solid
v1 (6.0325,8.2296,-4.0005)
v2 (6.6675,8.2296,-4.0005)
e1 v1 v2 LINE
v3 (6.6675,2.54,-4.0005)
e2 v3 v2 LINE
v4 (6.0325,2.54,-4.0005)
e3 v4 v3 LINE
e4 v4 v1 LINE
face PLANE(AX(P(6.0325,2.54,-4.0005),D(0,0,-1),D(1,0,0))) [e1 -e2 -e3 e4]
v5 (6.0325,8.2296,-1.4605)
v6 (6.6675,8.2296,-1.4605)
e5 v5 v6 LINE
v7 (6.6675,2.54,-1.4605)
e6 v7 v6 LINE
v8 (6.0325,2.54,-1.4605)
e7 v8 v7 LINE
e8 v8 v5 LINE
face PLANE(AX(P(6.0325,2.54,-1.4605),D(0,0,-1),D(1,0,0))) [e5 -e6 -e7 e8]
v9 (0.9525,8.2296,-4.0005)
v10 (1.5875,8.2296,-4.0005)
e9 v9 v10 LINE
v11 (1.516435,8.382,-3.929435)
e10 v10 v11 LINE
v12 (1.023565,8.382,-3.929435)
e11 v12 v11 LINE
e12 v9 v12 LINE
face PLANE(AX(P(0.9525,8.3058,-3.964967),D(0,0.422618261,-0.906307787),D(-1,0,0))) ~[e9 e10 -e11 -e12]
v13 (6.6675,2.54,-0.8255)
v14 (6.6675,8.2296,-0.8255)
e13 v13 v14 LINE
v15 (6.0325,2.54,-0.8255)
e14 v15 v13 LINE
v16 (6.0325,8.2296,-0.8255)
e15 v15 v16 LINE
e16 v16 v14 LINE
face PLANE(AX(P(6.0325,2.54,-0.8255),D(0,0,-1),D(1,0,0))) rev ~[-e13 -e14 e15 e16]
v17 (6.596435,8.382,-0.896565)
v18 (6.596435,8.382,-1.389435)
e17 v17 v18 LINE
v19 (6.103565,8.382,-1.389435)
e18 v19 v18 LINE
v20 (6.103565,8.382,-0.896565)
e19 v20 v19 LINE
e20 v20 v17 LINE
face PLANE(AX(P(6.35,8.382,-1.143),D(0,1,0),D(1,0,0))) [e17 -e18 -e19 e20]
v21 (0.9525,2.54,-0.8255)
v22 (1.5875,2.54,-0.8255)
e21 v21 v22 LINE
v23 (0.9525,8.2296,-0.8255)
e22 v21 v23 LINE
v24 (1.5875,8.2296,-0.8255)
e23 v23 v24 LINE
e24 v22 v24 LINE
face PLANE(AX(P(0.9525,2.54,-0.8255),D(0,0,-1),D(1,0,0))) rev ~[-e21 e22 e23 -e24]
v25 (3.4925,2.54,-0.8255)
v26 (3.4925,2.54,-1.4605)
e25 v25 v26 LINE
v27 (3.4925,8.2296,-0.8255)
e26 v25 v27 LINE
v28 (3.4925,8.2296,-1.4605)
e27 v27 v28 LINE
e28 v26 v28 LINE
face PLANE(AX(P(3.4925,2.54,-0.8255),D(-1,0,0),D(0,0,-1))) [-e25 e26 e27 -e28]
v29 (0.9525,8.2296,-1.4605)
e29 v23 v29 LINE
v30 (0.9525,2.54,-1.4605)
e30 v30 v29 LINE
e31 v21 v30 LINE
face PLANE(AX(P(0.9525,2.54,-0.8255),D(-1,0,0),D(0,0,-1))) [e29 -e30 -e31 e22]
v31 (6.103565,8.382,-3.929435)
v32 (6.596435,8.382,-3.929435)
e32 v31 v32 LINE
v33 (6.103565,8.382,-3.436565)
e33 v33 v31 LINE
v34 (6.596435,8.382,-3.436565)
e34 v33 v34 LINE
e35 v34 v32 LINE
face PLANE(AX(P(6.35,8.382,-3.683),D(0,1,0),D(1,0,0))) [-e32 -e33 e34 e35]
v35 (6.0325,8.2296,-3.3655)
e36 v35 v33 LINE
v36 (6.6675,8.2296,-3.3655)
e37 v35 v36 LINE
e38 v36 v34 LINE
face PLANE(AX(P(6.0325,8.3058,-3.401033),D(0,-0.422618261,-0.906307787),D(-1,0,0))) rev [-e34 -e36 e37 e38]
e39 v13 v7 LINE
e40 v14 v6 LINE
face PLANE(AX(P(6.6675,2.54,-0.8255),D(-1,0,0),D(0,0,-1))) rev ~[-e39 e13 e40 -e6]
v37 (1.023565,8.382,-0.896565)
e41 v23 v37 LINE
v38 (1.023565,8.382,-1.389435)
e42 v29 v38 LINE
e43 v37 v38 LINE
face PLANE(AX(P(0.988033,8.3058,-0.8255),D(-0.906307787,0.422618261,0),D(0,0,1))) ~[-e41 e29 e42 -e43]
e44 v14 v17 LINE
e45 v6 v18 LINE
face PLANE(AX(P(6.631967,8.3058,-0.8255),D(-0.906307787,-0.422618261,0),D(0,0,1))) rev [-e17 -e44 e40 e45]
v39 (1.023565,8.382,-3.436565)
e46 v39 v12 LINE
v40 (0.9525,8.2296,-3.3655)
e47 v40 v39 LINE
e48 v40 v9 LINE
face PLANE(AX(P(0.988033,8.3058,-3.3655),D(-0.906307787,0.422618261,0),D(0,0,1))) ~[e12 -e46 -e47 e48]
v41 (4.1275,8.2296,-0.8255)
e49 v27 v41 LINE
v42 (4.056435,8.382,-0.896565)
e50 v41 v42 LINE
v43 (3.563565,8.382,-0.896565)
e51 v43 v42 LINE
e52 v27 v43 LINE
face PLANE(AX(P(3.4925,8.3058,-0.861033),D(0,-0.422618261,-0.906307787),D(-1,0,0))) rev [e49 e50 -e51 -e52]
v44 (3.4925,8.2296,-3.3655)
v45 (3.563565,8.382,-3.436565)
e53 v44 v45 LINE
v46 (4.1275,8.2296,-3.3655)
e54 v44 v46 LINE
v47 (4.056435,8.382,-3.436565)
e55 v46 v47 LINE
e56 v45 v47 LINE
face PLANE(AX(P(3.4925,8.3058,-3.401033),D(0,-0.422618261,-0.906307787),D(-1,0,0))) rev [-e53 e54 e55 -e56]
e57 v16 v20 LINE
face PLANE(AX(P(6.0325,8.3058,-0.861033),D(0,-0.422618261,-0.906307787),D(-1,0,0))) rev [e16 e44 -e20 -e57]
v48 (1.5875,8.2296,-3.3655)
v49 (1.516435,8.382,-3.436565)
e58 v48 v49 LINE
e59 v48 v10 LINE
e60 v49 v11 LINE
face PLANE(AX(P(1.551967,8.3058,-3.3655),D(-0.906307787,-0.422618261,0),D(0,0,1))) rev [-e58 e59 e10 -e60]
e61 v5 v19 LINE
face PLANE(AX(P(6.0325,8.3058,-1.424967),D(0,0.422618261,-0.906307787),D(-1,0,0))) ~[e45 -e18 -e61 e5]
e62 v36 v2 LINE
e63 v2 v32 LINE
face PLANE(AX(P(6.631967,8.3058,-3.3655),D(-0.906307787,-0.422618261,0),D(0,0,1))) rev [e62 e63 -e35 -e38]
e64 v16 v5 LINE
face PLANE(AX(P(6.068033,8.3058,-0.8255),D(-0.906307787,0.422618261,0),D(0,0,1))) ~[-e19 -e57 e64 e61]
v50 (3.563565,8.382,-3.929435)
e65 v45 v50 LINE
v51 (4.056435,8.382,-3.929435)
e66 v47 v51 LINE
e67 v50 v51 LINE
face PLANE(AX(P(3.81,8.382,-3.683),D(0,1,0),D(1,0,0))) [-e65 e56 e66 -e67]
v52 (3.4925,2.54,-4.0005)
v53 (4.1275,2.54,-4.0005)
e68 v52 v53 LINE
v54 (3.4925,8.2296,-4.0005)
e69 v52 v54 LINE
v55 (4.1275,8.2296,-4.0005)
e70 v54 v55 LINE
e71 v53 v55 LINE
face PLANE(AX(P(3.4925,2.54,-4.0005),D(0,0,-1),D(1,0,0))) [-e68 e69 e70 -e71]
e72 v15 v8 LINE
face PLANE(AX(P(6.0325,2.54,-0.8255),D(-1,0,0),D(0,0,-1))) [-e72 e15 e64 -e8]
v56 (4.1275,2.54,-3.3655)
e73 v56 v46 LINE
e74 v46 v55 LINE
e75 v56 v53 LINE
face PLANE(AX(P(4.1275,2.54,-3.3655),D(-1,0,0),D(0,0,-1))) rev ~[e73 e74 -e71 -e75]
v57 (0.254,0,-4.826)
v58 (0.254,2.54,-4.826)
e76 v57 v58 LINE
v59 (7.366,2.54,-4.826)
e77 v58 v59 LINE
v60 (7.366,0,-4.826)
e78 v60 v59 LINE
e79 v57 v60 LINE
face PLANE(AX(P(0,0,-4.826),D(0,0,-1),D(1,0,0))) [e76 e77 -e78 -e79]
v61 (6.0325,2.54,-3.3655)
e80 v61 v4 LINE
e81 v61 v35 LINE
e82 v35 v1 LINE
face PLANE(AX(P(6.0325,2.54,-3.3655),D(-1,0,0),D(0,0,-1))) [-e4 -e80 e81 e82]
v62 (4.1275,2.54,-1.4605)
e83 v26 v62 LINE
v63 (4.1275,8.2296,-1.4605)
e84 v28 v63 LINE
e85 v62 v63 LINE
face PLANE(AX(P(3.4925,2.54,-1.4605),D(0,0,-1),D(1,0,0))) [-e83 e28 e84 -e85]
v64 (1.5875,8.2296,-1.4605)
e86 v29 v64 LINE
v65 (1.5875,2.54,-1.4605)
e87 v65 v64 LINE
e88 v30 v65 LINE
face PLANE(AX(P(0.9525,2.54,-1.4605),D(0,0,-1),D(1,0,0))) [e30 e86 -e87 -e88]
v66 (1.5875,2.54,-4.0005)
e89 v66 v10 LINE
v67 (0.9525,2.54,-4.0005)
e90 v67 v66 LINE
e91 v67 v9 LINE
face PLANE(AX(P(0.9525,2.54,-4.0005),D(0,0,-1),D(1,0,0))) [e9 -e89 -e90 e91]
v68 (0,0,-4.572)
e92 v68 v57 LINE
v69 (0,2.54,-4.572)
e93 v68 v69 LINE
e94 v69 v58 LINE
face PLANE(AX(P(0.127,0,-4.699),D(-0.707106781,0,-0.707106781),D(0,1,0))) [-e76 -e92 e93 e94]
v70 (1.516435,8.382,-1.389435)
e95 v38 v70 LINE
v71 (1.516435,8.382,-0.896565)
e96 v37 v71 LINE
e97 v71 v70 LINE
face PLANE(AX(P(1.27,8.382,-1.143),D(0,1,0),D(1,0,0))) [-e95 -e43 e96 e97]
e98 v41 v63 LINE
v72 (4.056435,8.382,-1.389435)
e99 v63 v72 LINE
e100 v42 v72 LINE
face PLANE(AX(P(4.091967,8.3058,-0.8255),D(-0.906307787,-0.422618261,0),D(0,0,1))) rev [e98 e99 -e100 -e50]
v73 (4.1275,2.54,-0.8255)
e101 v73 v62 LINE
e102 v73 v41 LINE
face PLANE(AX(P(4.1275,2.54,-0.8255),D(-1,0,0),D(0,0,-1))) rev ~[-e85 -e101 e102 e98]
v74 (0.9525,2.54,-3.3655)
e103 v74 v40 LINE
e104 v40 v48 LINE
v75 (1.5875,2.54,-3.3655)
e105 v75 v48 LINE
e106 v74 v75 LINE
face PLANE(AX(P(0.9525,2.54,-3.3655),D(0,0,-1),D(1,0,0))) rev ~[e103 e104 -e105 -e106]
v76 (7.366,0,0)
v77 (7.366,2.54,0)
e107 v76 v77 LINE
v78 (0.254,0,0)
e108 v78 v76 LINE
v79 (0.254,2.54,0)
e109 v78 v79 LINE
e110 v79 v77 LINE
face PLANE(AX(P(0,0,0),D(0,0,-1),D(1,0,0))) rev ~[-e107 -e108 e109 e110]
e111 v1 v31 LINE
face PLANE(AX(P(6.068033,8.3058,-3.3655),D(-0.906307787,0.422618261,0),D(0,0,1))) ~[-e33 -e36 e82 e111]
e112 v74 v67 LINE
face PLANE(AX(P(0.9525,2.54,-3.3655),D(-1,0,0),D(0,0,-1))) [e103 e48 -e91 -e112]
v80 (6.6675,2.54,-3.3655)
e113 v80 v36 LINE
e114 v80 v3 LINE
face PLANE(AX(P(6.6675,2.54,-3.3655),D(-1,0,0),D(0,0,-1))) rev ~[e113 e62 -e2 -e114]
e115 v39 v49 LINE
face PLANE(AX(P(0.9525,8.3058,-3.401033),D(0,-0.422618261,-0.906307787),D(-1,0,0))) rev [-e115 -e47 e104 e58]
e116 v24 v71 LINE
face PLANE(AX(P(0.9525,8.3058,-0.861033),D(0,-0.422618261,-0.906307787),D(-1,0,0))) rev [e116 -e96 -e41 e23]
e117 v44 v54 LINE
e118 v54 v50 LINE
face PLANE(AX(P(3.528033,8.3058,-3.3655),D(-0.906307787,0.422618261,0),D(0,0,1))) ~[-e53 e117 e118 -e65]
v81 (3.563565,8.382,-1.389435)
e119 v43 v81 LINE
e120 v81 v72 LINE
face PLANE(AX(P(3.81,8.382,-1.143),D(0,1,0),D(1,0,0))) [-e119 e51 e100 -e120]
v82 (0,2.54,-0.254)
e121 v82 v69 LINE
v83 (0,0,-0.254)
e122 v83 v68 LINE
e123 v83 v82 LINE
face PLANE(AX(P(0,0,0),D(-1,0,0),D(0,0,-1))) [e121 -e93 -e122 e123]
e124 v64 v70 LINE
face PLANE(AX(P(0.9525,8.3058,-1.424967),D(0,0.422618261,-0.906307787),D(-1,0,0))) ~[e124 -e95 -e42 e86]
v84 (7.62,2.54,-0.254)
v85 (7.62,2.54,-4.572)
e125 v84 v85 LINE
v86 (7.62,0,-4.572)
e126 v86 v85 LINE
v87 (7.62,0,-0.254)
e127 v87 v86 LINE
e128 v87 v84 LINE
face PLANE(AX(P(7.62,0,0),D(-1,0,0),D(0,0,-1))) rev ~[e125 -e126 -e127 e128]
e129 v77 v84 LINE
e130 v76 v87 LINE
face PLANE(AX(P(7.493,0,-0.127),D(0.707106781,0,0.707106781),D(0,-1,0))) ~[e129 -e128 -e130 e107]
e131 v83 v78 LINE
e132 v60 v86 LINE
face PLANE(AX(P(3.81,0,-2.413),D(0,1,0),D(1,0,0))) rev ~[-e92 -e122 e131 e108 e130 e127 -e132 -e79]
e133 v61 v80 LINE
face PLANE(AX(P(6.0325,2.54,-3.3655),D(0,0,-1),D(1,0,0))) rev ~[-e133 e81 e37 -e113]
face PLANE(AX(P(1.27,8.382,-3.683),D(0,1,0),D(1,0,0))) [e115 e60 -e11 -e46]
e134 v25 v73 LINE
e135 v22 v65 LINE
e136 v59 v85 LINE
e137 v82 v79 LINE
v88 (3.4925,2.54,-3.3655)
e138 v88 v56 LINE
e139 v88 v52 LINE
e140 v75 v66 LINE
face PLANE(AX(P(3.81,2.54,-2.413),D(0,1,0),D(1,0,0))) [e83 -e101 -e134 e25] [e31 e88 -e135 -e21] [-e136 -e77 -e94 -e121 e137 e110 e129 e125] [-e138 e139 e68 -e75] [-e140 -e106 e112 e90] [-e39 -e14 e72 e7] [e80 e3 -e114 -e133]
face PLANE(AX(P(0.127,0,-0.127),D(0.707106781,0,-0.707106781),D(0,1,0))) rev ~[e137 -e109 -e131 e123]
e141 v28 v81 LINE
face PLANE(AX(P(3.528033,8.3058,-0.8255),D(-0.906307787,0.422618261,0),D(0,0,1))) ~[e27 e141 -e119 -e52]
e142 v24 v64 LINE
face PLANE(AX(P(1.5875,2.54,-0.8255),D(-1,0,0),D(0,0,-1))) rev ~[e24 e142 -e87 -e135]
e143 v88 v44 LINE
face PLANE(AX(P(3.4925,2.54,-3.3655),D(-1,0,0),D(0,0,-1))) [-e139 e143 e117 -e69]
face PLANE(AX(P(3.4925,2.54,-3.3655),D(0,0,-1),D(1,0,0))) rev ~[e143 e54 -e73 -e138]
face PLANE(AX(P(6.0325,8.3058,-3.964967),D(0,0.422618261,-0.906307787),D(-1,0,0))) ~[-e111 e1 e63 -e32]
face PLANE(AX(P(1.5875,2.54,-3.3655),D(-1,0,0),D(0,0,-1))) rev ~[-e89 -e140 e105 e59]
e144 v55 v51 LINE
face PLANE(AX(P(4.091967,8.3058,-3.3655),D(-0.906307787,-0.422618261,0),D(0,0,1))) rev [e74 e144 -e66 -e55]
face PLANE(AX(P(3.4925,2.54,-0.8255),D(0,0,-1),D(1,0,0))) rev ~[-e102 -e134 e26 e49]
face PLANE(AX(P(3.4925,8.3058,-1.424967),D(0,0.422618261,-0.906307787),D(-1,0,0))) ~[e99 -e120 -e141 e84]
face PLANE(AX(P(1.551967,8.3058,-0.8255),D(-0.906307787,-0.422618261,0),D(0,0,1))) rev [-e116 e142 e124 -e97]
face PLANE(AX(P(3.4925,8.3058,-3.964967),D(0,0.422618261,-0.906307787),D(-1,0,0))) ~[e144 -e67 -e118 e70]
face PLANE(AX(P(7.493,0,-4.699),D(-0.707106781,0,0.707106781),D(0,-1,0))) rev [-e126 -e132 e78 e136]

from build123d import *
from OCP.BRepFilletAPI import BRepFilletAPI_MakeChamfer

# Parameters (mm, degrees)
SKETCH1_W                   = 7.62
SKETCH1_H                   = 4.826
BOSS_EXTRUDE1_DEPTH         = 2.54
SKETCH2_W                   = 0.635
SKETCH2_H                   = 0.635
BOSS_EXTRUDE2_DEPTH         = 5.842
CHAMFER2_SIZE               = 0.1524
CHAMFER2_SIZE2              = 0.071065287
CHAMFER1_SIZE               = 0.254
LPATTERN2_COUNT             = 3
LPATTERN2_PITCH             = 2.54
LPATTERN2_COUNT_DIR2        = 2
LPATTERN2_PITCH_DIR2        = 2.54
CHAMFER2_OF_LPATTERN2_SIZE  = 0.1524
CHAMFER2_OF_LPATTERN2_SIZE2 = 0.071065287


with BuildPart() as part:
    # Sketch1 → Boss-Extrude1 (new body)
    with BuildSketch(Plane(origin=(0, 0, 0), x_dir=(1, 0, 0), z_dir=(0, 1, 0))):
        with Locations((3.81, 2.413)):
            Rectangle(SKETCH1_W, SKETCH1_H)
    extrude(amount=BOSS_EXTRUDE1_DEPTH)

    # Sketch2 → Boss-Extrude2 (add)
    with BuildSketch(Plane(origin=(0, 2.54, 0), x_dir=(1, 0, 0), z_dir=(0, 1, 0))):
        with Locations((1.27, 1.143)):
            Rectangle(SKETCH2_W, SKETCH2_H)
    boss_extrude2 = extrude(amount=BOSS_EXTRUDE2_DEPTH)

    # Chamfer2: one chamfer whose edges measure the first distance from different faces: ONE call of the kernel's chamfer builder (chamfer() names one face for all edges)
    chamfer2_edges_1 = [part.edges().sort_by_distance(p)[0] for p in [
        (1.5875, 8.382, -1.143),
    ]]
    chamfer2_side_1 = [part.faces().sort_by_distance(p)[0] for p in [
        (1.5875, 5.461, -1.143),
    ]]
    chamfer2_edges_2 = [part.edges().sort_by_distance(p)[0] for p in [
        (1.27, 8.382, -1.4605),
    ]]
    chamfer2_side_2 = [part.faces().sort_by_distance(p)[0] for p in [
        (1.27, 5.461, -1.4605),
    ]]
    chamfer2_edges_3 = [part.edges().sort_by_distance(p)[0] for p in [
        (0.9525, 8.382, -1.143),
    ]]
    chamfer2_side_3 = [part.faces().sort_by_distance(p)[0] for p in [
        (0.9525, 5.461, -1.143),
    ]]
    chamfer2_edges_4 = [part.edges().sort_by_distance(p)[0] for p in [
        (1.27, 8.382, -0.8255),
    ]]
    chamfer2_side_4 = [part.faces().sort_by_distance(p)[0] for p in [
        (1.27, 5.461, -0.8255),
    ]]
    chamfer2 = BRepFilletAPI_MakeChamfer(part.part.solid().wrapped)
    for e in chamfer2_edges_1:
        chamfer2.Add(CHAMFER2_SIZE, CHAMFER2_SIZE2, e.wrapped, chamfer2_side_1[0].wrapped)  # the first distance lies on this face
    for e in chamfer2_edges_2:
        chamfer2.Add(CHAMFER2_SIZE, CHAMFER2_SIZE2, e.wrapped, chamfer2_side_2[0].wrapped)  # the first distance lies on this face
    for e in chamfer2_edges_3:
        chamfer2.Add(CHAMFER2_SIZE, CHAMFER2_SIZE2, e.wrapped, chamfer2_side_3[0].wrapped)  # the first distance lies on this face
    for e in chamfer2_edges_4:
        chamfer2.Add(CHAMFER2_SIZE, CHAMFER2_SIZE2, e.wrapped, chamfer2_side_4[0].wrapped)  # the first distance lies on this face
    add(Compound.cast(chamfer2.Shape()), mode=Mode.REPLACE)

    # Chamfer1
    chamfer1_edges = [part.edges().sort_by_distance(p)[0] for p in [
        (0, 1.27, -4.826),
        (7.62, 1.27, -4.826),
        (7.62, 1.27, 0),
        (0, 1.27, 0),
    ]]
    chamfer(chamfer1_edges, length=CHAMFER1_SIZE)

    # LPattern2: Boss-Extrude2 3 × 2
    with Locations(*[(i * LPATTERN2_PITCH, 0, -j * LPATTERN2_PITCH_DIR2) for i in range(LPATTERN2_COUNT) for j in range(LPATTERN2_COUNT_DIR2) if (i, j) != (0, 0)]):
        add(boss_extrude2)

    # Chamfer2 of LPattern2: one chamfer whose edges measure the first distance from different faces: ONE call of the kernel's chamfer builder (chamfer() names one face for all edges)
    chamfer2_of_lpattern2_edges_1 = [part.edges().sort_by_distance(p)[0] for p in [
        (1.5875, 8.382, -3.683),
    ]]
    chamfer2_of_lpattern2_side_1 = [part.faces().sort_by_distance(p)[0] for p in [
        (1.5875, 5.461, -3.683),
    ]]
    chamfer2_of_lpattern2_edges_2 = [part.edges().sort_by_distance(p)[0] for p in [
        (1.27, 8.382, -4.0005),
    ]]
    chamfer2_of_lpattern2_side_2 = [part.faces().sort_by_distance(p)[0] for p in [
        (1.27, 5.461, -4.0005),
    ]]
    chamfer2_of_lpattern2_edges_3 = [part.edges().sort_by_distance(p)[0] for p in [
        (0.9525, 8.382, -3.683),
    ]]
    chamfer2_of_lpattern2_side_3 = [part.faces().sort_by_distance(p)[0] for p in [
        (0.9525, 5.461, -3.683),
    ]]
    chamfer2_of_lpattern2_edges_4 = [part.edges().sort_by_distance(p)[0] for p in [
        (1.27, 8.382, -3.3655),
    ]]
    chamfer2_of_lpattern2_side_4 = [part.faces().sort_by_distance(p)[0] for p in [
        (1.27, 5.461, -3.3655),
    ]]
    chamfer2_of_lpattern2_edges_5 = [part.edges().sort_by_distance(p)[0] for p in [
        (4.1275, 8.382, -1.143),
    ]]
    chamfer2_of_lpattern2_side_5 = [part.faces().sort_by_distance(p)[0] for p in [
        (4.1275, 5.461, -1.143),
    ]]
    chamfer2_of_lpattern2_edges_6 = [part.edges().sort_by_distance(p)[0] for p in [
        (3.81, 8.382, -1.4605),
    ]]
    chamfer2_of_lpattern2_side_6 = [part.faces().sort_by_distance(p)[0] for p in [
        (3.81, 5.461, -1.4605),
    ]]
    chamfer2_of_lpattern2_edges_7 = [part.edges().sort_by_distance(p)[0] for p in [
        (3.4925, 8.382, -1.143),
    ]]
    chamfer2_of_lpattern2_side_7 = [part.faces().sort_by_distance(p)[0] for p in [
        (3.4925, 5.461, -1.143),
    ]]
    chamfer2_of_lpattern2_edges_8 = [part.edges().sort_by_distance(p)[0] for p in [
        (3.81, 8.382, -0.8255),
    ]]
    chamfer2_of_lpattern2_side_8 = [part.faces().sort_by_distance(p)[0] for p in [
        (3.81, 5.461, -0.8255),
    ]]
    chamfer2_of_lpattern2_edges_9 = [part.edges().sort_by_distance(p)[0] for p in [
        (4.1275, 8.382, -3.683),
    ]]
    chamfer2_of_lpattern2_side_9 = [part.faces().sort_by_distance(p)[0] for p in [
        (4.1275, 5.461, -3.683),
    ]]
    chamfer2_of_lpattern2_edges_10 = [part.edges().sort_by_distance(p)[0] for p in [
        (3.81, 8.382, -4.0005),
    ]]
    chamfer2_of_lpattern2_side_10 = [part.faces().sort_by_distance(p)[0] for p in [
        (3.81, 5.461, -4.0005),
    ]]
    chamfer2_of_lpattern2_edges_11 = [part.edges().sort_by_distance(p)[0] for p in [
        (3.4925, 8.382, -3.683),
    ]]
    chamfer2_of_lpattern2_side_11 = [part.faces().sort_by_distance(p)[0] for p in [
        (3.4925, 5.461, -3.683),
    ]]
    chamfer2_of_lpattern2_edges_12 = [part.edges().sort_by_distance(p)[0] for p in [
        (3.81, 8.382, -3.3655),
    ]]
    chamfer2_of_lpattern2_side_12 = [part.faces().sort_by_distance(p)[0] for p in [
        (3.81, 5.461, -3.3655),
    ]]
    chamfer2_of_lpattern2_edges_13 = [part.edges().sort_by_distance(p)[0] for p in [
        (6.6675, 8.382, -1.143),
    ]]
    chamfer2_of_lpattern2_side_13 = [part.faces().sort_by_distance(p)[0] for p in [
        (6.6675, 5.461, -1.143),
    ]]
    chamfer2_of_lpattern2_edges_14 = [part.edges().sort_by_distance(p)[0] for p in [
        (6.35, 8.382, -1.4605),
    ]]
    chamfer2_of_lpattern2_side_14 = [part.faces().sort_by_distance(p)[0] for p in [
        (6.35, 5.461, -1.4605),
    ]]
    chamfer2_of_lpattern2_edges_15 = [part.edges().sort_by_distance(p)[0] for p in [
        (6.0325, 8.382, -1.143),
    ]]
    chamfer2_of_lpattern2_side_15 = [part.faces().sort_by_distance(p)[0] for p in [
        (6.0325, 5.461, -1.143),
    ]]
    chamfer2_of_lpattern2_edges_16 = [part.edges().sort_by_distance(p)[0] for p in [
        (6.35, 8.382, -0.8255),
    ]]
    chamfer2_of_lpattern2_side_16 = [part.faces().sort_by_distance(p)[0] for p in [
        (6.35, 5.461, -0.8255),
    ]]
    chamfer2_of_lpattern2_edges_17 = [part.edges().sort_by_distance(p)[0] for p in [
        (6.6675, 8.382, -3.683),
    ]]
    chamfer2_of_lpattern2_side_17 = [part.faces().sort_by_distance(p)[0] for p in [
        (6.6675, 5.461, -3.683),
    ]]
    chamfer2_of_lpattern2_edges_18 = [part.edges().sort_by_distance(p)[0] for p in [
        (6.35, 8.382, -4.0005),
    ]]
    chamfer2_of_lpattern2_side_18 = [part.faces().sort_by_distance(p)[0] for p in [
        (6.35, 5.461, -4.0005),
    ]]
    chamfer2_of_lpattern2_edges_19 = [part.edges().sort_by_distance(p)[0] for p in [
        (6.0325, 8.382, -3.683),
    ]]
    chamfer2_of_lpattern2_side_19 = [part.faces().sort_by_distance(p)[0] for p in [
        (6.0325, 5.461, -3.683),
    ]]
    chamfer2_of_lpattern2_edges_20 = [part.edges().sort_by_distance(p)[0] for p in [
        (6.35, 8.382, -3.3655),
    ]]
    chamfer2_of_lpattern2_side_20 = [part.faces().sort_by_distance(p)[0] for p in [
        (6.35, 5.461, -3.3655),
    ]]
    chamfer2_of_lpattern2 = BRepFilletAPI_MakeChamfer(part.part.solid().wrapped)
    for e in chamfer2_of_lpattern2_edges_1:
        chamfer2_of_lpattern2.Add(CHAMFER2_OF_LPATTERN2_SIZE, CHAMFER2_OF_LPATTERN2_SIZE2, e.wrapped, chamfer2_of_lpattern2_side_1[0].wrapped)  # the first distance lies on this face
    for e in chamfer2_of_lpattern2_edges_2:
        chamfer2_of_lpattern2.Add(CHAMFER2_OF_LPATTERN2_SIZE, CHAMFER2_OF_LPATTERN2_SIZE2, e.wrapped, chamfer2_of_lpattern2_side_2[0].wrapped)  # the first distance lies on this face
    for e in chamfer2_of_lpattern2_edges_3:
        chamfer2_of_lpattern2.Add(CHAMFER2_OF_LPATTERN2_SIZE, CHAMFER2_OF_LPATTERN2_SIZE2, e.wrapped, chamfer2_of_lpattern2_side_3[0].wrapped)  # the first distance lies on this face
    for e in chamfer2_of_lpattern2_edges_4:
        chamfer2_of_lpattern2.Add(CHAMFER2_OF_LPATTERN2_SIZE, CHAMFER2_OF_LPATTERN2_SIZE2, e.wrapped, chamfer2_of_lpattern2_side_4[0].wrapped)  # the first distance lies on this face
    for e in chamfer2_of_lpattern2_edges_5:
        chamfer2_of_lpattern2.Add(CHAMFER2_OF_LPATTERN2_SIZE, CHAMFER2_OF_LPATTERN2_SIZE2, e.wrapped, chamfer2_of_lpattern2_side_5[0].wrapped)  # the first distance lies on this face
    for e in chamfer2_of_lpattern2_edges_6:
        chamfer2_of_lpattern2.Add(CHAMFER2_OF_LPATTERN2_SIZE, CHAMFER2_OF_LPATTERN2_SIZE2, e.wrapped, chamfer2_of_lpattern2_side_6[0].wrapped)  # the first distance lies on this face
    for e in chamfer2_of_lpattern2_edges_7:
        chamfer2_of_lpattern2.Add(CHAMFER2_OF_LPATTERN2_SIZE, CHAMFER2_OF_LPATTERN2_SIZE2, e.wrapped, chamfer2_of_lpattern2_side_7[0].wrapped)  # the first distance lies on this face
    for e in chamfer2_of_lpattern2_edges_8:
        chamfer2_of_lpattern2.Add(CHAMFER2_OF_LPATTERN2_SIZE, CHAMFER2_OF_LPATTERN2_SIZE2, e.wrapped, chamfer2_of_lpattern2_side_8[0].wrapped)  # the first distance lies on this face
    for e in chamfer2_of_lpattern2_edges_9:
        chamfer2_of_lpattern2.Add(CHAMFER2_OF_LPATTERN2_SIZE, CHAMFER2_OF_LPATTERN2_SIZE2, e.wrapped, chamfer2_of_lpattern2_side_9[0].wrapped)  # the first distance lies on this face
    for e in chamfer2_of_lpattern2_edges_10:
        chamfer2_of_lpattern2.Add(CHAMFER2_OF_LPATTERN2_SIZE, CHAMFER2_OF_LPATTERN2_SIZE2, e.wrapped, chamfer2_of_lpattern2_side_10[0].wrapped)  # the first distance lies on this face
    for e in chamfer2_of_lpattern2_edges_11:
        chamfer2_of_lpattern2.Add(CHAMFER2_OF_LPATTERN2_SIZE, CHAMFER2_OF_LPATTERN2_SIZE2, e.wrapped, chamfer2_of_lpattern2_side_11[0].wrapped)  # the first distance lies on this face
    for e in chamfer2_of_lpattern2_edges_12:
        chamfer2_of_lpattern2.Add(CHAMFER2_OF_LPATTERN2_SIZE, CHAMFER2_OF_LPATTERN2_SIZE2, e.wrapped, chamfer2_of_lpattern2_side_12[0].wrapped)  # the first distance lies on this face
    for e in chamfer2_of_lpattern2_edges_13:
        chamfer2_of_lpattern2.Add(CHAMFER2_OF_LPATTERN2_SIZE, CHAMFER2_OF_LPATTERN2_SIZE2, e.wrapped, chamfer2_of_lpattern2_side_13[0].wrapped)  # the first distance lies on this face
    for e in chamfer2_of_lpattern2_edges_14:
        chamfer2_of_lpattern2.Add(CHAMFER2_OF_LPATTERN2_SIZE, CHAMFER2_OF_LPATTERN2_SIZE2, e.wrapped, chamfer2_of_lpattern2_side_14[0].wrapped)  # the first distance lies on this face
    for e in chamfer2_of_lpattern2_edges_15:
        chamfer2_of_lpattern2.Add(CHAMFER2_OF_LPATTERN2_SIZE, CHAMFER2_OF_LPATTERN2_SIZE2, e.wrapped, chamfer2_of_lpattern2_side_15[0].wrapped)  # the first distance lies on this face
    for e in chamfer2_of_lpattern2_edges_16:
        chamfer2_of_lpattern2.Add(CHAMFER2_OF_LPATTERN2_SIZE, CHAMFER2_OF_LPATTERN2_SIZE2, e.wrapped, chamfer2_of_lpattern2_side_16[0].wrapped)  # the first distance lies on this face
    for e in chamfer2_of_lpattern2_edges_17:
        chamfer2_of_lpattern2.Add(CHAMFER2_OF_LPATTERN2_SIZE, CHAMFER2_OF_LPATTERN2_SIZE2, e.wrapped, chamfer2_of_lpattern2_side_17[0].wrapped)  # the first distance lies on this face
    for e in chamfer2_of_lpattern2_edges_18:
        chamfer2_of_lpattern2.Add(CHAMFER2_OF_LPATTERN2_SIZE, CHAMFER2_OF_LPATTERN2_SIZE2, e.wrapped, chamfer2_of_lpattern2_side_18[0].wrapped)  # the first distance lies on this face
    for e in chamfer2_of_lpattern2_edges_19:
        chamfer2_of_lpattern2.Add(CHAMFER2_OF_LPATTERN2_SIZE, CHAMFER2_OF_LPATTERN2_SIZE2, e.wrapped, chamfer2_of_lpattern2_side_19[0].wrapped)  # the first distance lies on this face
    for e in chamfer2_of_lpattern2_edges_20:
        chamfer2_of_lpattern2.Add(CHAMFER2_OF_LPATTERN2_SIZE, CHAMFER2_OF_LPATTERN2_SIZE2, e.wrapped, chamfer2_of_lpattern2_side_20[0].wrapped)  # the first distance lies on this face
    add(Compound.cast(chamfer2_of_lpattern2.Shape()), mode=Mode.REPLACE)


solid = part.part
